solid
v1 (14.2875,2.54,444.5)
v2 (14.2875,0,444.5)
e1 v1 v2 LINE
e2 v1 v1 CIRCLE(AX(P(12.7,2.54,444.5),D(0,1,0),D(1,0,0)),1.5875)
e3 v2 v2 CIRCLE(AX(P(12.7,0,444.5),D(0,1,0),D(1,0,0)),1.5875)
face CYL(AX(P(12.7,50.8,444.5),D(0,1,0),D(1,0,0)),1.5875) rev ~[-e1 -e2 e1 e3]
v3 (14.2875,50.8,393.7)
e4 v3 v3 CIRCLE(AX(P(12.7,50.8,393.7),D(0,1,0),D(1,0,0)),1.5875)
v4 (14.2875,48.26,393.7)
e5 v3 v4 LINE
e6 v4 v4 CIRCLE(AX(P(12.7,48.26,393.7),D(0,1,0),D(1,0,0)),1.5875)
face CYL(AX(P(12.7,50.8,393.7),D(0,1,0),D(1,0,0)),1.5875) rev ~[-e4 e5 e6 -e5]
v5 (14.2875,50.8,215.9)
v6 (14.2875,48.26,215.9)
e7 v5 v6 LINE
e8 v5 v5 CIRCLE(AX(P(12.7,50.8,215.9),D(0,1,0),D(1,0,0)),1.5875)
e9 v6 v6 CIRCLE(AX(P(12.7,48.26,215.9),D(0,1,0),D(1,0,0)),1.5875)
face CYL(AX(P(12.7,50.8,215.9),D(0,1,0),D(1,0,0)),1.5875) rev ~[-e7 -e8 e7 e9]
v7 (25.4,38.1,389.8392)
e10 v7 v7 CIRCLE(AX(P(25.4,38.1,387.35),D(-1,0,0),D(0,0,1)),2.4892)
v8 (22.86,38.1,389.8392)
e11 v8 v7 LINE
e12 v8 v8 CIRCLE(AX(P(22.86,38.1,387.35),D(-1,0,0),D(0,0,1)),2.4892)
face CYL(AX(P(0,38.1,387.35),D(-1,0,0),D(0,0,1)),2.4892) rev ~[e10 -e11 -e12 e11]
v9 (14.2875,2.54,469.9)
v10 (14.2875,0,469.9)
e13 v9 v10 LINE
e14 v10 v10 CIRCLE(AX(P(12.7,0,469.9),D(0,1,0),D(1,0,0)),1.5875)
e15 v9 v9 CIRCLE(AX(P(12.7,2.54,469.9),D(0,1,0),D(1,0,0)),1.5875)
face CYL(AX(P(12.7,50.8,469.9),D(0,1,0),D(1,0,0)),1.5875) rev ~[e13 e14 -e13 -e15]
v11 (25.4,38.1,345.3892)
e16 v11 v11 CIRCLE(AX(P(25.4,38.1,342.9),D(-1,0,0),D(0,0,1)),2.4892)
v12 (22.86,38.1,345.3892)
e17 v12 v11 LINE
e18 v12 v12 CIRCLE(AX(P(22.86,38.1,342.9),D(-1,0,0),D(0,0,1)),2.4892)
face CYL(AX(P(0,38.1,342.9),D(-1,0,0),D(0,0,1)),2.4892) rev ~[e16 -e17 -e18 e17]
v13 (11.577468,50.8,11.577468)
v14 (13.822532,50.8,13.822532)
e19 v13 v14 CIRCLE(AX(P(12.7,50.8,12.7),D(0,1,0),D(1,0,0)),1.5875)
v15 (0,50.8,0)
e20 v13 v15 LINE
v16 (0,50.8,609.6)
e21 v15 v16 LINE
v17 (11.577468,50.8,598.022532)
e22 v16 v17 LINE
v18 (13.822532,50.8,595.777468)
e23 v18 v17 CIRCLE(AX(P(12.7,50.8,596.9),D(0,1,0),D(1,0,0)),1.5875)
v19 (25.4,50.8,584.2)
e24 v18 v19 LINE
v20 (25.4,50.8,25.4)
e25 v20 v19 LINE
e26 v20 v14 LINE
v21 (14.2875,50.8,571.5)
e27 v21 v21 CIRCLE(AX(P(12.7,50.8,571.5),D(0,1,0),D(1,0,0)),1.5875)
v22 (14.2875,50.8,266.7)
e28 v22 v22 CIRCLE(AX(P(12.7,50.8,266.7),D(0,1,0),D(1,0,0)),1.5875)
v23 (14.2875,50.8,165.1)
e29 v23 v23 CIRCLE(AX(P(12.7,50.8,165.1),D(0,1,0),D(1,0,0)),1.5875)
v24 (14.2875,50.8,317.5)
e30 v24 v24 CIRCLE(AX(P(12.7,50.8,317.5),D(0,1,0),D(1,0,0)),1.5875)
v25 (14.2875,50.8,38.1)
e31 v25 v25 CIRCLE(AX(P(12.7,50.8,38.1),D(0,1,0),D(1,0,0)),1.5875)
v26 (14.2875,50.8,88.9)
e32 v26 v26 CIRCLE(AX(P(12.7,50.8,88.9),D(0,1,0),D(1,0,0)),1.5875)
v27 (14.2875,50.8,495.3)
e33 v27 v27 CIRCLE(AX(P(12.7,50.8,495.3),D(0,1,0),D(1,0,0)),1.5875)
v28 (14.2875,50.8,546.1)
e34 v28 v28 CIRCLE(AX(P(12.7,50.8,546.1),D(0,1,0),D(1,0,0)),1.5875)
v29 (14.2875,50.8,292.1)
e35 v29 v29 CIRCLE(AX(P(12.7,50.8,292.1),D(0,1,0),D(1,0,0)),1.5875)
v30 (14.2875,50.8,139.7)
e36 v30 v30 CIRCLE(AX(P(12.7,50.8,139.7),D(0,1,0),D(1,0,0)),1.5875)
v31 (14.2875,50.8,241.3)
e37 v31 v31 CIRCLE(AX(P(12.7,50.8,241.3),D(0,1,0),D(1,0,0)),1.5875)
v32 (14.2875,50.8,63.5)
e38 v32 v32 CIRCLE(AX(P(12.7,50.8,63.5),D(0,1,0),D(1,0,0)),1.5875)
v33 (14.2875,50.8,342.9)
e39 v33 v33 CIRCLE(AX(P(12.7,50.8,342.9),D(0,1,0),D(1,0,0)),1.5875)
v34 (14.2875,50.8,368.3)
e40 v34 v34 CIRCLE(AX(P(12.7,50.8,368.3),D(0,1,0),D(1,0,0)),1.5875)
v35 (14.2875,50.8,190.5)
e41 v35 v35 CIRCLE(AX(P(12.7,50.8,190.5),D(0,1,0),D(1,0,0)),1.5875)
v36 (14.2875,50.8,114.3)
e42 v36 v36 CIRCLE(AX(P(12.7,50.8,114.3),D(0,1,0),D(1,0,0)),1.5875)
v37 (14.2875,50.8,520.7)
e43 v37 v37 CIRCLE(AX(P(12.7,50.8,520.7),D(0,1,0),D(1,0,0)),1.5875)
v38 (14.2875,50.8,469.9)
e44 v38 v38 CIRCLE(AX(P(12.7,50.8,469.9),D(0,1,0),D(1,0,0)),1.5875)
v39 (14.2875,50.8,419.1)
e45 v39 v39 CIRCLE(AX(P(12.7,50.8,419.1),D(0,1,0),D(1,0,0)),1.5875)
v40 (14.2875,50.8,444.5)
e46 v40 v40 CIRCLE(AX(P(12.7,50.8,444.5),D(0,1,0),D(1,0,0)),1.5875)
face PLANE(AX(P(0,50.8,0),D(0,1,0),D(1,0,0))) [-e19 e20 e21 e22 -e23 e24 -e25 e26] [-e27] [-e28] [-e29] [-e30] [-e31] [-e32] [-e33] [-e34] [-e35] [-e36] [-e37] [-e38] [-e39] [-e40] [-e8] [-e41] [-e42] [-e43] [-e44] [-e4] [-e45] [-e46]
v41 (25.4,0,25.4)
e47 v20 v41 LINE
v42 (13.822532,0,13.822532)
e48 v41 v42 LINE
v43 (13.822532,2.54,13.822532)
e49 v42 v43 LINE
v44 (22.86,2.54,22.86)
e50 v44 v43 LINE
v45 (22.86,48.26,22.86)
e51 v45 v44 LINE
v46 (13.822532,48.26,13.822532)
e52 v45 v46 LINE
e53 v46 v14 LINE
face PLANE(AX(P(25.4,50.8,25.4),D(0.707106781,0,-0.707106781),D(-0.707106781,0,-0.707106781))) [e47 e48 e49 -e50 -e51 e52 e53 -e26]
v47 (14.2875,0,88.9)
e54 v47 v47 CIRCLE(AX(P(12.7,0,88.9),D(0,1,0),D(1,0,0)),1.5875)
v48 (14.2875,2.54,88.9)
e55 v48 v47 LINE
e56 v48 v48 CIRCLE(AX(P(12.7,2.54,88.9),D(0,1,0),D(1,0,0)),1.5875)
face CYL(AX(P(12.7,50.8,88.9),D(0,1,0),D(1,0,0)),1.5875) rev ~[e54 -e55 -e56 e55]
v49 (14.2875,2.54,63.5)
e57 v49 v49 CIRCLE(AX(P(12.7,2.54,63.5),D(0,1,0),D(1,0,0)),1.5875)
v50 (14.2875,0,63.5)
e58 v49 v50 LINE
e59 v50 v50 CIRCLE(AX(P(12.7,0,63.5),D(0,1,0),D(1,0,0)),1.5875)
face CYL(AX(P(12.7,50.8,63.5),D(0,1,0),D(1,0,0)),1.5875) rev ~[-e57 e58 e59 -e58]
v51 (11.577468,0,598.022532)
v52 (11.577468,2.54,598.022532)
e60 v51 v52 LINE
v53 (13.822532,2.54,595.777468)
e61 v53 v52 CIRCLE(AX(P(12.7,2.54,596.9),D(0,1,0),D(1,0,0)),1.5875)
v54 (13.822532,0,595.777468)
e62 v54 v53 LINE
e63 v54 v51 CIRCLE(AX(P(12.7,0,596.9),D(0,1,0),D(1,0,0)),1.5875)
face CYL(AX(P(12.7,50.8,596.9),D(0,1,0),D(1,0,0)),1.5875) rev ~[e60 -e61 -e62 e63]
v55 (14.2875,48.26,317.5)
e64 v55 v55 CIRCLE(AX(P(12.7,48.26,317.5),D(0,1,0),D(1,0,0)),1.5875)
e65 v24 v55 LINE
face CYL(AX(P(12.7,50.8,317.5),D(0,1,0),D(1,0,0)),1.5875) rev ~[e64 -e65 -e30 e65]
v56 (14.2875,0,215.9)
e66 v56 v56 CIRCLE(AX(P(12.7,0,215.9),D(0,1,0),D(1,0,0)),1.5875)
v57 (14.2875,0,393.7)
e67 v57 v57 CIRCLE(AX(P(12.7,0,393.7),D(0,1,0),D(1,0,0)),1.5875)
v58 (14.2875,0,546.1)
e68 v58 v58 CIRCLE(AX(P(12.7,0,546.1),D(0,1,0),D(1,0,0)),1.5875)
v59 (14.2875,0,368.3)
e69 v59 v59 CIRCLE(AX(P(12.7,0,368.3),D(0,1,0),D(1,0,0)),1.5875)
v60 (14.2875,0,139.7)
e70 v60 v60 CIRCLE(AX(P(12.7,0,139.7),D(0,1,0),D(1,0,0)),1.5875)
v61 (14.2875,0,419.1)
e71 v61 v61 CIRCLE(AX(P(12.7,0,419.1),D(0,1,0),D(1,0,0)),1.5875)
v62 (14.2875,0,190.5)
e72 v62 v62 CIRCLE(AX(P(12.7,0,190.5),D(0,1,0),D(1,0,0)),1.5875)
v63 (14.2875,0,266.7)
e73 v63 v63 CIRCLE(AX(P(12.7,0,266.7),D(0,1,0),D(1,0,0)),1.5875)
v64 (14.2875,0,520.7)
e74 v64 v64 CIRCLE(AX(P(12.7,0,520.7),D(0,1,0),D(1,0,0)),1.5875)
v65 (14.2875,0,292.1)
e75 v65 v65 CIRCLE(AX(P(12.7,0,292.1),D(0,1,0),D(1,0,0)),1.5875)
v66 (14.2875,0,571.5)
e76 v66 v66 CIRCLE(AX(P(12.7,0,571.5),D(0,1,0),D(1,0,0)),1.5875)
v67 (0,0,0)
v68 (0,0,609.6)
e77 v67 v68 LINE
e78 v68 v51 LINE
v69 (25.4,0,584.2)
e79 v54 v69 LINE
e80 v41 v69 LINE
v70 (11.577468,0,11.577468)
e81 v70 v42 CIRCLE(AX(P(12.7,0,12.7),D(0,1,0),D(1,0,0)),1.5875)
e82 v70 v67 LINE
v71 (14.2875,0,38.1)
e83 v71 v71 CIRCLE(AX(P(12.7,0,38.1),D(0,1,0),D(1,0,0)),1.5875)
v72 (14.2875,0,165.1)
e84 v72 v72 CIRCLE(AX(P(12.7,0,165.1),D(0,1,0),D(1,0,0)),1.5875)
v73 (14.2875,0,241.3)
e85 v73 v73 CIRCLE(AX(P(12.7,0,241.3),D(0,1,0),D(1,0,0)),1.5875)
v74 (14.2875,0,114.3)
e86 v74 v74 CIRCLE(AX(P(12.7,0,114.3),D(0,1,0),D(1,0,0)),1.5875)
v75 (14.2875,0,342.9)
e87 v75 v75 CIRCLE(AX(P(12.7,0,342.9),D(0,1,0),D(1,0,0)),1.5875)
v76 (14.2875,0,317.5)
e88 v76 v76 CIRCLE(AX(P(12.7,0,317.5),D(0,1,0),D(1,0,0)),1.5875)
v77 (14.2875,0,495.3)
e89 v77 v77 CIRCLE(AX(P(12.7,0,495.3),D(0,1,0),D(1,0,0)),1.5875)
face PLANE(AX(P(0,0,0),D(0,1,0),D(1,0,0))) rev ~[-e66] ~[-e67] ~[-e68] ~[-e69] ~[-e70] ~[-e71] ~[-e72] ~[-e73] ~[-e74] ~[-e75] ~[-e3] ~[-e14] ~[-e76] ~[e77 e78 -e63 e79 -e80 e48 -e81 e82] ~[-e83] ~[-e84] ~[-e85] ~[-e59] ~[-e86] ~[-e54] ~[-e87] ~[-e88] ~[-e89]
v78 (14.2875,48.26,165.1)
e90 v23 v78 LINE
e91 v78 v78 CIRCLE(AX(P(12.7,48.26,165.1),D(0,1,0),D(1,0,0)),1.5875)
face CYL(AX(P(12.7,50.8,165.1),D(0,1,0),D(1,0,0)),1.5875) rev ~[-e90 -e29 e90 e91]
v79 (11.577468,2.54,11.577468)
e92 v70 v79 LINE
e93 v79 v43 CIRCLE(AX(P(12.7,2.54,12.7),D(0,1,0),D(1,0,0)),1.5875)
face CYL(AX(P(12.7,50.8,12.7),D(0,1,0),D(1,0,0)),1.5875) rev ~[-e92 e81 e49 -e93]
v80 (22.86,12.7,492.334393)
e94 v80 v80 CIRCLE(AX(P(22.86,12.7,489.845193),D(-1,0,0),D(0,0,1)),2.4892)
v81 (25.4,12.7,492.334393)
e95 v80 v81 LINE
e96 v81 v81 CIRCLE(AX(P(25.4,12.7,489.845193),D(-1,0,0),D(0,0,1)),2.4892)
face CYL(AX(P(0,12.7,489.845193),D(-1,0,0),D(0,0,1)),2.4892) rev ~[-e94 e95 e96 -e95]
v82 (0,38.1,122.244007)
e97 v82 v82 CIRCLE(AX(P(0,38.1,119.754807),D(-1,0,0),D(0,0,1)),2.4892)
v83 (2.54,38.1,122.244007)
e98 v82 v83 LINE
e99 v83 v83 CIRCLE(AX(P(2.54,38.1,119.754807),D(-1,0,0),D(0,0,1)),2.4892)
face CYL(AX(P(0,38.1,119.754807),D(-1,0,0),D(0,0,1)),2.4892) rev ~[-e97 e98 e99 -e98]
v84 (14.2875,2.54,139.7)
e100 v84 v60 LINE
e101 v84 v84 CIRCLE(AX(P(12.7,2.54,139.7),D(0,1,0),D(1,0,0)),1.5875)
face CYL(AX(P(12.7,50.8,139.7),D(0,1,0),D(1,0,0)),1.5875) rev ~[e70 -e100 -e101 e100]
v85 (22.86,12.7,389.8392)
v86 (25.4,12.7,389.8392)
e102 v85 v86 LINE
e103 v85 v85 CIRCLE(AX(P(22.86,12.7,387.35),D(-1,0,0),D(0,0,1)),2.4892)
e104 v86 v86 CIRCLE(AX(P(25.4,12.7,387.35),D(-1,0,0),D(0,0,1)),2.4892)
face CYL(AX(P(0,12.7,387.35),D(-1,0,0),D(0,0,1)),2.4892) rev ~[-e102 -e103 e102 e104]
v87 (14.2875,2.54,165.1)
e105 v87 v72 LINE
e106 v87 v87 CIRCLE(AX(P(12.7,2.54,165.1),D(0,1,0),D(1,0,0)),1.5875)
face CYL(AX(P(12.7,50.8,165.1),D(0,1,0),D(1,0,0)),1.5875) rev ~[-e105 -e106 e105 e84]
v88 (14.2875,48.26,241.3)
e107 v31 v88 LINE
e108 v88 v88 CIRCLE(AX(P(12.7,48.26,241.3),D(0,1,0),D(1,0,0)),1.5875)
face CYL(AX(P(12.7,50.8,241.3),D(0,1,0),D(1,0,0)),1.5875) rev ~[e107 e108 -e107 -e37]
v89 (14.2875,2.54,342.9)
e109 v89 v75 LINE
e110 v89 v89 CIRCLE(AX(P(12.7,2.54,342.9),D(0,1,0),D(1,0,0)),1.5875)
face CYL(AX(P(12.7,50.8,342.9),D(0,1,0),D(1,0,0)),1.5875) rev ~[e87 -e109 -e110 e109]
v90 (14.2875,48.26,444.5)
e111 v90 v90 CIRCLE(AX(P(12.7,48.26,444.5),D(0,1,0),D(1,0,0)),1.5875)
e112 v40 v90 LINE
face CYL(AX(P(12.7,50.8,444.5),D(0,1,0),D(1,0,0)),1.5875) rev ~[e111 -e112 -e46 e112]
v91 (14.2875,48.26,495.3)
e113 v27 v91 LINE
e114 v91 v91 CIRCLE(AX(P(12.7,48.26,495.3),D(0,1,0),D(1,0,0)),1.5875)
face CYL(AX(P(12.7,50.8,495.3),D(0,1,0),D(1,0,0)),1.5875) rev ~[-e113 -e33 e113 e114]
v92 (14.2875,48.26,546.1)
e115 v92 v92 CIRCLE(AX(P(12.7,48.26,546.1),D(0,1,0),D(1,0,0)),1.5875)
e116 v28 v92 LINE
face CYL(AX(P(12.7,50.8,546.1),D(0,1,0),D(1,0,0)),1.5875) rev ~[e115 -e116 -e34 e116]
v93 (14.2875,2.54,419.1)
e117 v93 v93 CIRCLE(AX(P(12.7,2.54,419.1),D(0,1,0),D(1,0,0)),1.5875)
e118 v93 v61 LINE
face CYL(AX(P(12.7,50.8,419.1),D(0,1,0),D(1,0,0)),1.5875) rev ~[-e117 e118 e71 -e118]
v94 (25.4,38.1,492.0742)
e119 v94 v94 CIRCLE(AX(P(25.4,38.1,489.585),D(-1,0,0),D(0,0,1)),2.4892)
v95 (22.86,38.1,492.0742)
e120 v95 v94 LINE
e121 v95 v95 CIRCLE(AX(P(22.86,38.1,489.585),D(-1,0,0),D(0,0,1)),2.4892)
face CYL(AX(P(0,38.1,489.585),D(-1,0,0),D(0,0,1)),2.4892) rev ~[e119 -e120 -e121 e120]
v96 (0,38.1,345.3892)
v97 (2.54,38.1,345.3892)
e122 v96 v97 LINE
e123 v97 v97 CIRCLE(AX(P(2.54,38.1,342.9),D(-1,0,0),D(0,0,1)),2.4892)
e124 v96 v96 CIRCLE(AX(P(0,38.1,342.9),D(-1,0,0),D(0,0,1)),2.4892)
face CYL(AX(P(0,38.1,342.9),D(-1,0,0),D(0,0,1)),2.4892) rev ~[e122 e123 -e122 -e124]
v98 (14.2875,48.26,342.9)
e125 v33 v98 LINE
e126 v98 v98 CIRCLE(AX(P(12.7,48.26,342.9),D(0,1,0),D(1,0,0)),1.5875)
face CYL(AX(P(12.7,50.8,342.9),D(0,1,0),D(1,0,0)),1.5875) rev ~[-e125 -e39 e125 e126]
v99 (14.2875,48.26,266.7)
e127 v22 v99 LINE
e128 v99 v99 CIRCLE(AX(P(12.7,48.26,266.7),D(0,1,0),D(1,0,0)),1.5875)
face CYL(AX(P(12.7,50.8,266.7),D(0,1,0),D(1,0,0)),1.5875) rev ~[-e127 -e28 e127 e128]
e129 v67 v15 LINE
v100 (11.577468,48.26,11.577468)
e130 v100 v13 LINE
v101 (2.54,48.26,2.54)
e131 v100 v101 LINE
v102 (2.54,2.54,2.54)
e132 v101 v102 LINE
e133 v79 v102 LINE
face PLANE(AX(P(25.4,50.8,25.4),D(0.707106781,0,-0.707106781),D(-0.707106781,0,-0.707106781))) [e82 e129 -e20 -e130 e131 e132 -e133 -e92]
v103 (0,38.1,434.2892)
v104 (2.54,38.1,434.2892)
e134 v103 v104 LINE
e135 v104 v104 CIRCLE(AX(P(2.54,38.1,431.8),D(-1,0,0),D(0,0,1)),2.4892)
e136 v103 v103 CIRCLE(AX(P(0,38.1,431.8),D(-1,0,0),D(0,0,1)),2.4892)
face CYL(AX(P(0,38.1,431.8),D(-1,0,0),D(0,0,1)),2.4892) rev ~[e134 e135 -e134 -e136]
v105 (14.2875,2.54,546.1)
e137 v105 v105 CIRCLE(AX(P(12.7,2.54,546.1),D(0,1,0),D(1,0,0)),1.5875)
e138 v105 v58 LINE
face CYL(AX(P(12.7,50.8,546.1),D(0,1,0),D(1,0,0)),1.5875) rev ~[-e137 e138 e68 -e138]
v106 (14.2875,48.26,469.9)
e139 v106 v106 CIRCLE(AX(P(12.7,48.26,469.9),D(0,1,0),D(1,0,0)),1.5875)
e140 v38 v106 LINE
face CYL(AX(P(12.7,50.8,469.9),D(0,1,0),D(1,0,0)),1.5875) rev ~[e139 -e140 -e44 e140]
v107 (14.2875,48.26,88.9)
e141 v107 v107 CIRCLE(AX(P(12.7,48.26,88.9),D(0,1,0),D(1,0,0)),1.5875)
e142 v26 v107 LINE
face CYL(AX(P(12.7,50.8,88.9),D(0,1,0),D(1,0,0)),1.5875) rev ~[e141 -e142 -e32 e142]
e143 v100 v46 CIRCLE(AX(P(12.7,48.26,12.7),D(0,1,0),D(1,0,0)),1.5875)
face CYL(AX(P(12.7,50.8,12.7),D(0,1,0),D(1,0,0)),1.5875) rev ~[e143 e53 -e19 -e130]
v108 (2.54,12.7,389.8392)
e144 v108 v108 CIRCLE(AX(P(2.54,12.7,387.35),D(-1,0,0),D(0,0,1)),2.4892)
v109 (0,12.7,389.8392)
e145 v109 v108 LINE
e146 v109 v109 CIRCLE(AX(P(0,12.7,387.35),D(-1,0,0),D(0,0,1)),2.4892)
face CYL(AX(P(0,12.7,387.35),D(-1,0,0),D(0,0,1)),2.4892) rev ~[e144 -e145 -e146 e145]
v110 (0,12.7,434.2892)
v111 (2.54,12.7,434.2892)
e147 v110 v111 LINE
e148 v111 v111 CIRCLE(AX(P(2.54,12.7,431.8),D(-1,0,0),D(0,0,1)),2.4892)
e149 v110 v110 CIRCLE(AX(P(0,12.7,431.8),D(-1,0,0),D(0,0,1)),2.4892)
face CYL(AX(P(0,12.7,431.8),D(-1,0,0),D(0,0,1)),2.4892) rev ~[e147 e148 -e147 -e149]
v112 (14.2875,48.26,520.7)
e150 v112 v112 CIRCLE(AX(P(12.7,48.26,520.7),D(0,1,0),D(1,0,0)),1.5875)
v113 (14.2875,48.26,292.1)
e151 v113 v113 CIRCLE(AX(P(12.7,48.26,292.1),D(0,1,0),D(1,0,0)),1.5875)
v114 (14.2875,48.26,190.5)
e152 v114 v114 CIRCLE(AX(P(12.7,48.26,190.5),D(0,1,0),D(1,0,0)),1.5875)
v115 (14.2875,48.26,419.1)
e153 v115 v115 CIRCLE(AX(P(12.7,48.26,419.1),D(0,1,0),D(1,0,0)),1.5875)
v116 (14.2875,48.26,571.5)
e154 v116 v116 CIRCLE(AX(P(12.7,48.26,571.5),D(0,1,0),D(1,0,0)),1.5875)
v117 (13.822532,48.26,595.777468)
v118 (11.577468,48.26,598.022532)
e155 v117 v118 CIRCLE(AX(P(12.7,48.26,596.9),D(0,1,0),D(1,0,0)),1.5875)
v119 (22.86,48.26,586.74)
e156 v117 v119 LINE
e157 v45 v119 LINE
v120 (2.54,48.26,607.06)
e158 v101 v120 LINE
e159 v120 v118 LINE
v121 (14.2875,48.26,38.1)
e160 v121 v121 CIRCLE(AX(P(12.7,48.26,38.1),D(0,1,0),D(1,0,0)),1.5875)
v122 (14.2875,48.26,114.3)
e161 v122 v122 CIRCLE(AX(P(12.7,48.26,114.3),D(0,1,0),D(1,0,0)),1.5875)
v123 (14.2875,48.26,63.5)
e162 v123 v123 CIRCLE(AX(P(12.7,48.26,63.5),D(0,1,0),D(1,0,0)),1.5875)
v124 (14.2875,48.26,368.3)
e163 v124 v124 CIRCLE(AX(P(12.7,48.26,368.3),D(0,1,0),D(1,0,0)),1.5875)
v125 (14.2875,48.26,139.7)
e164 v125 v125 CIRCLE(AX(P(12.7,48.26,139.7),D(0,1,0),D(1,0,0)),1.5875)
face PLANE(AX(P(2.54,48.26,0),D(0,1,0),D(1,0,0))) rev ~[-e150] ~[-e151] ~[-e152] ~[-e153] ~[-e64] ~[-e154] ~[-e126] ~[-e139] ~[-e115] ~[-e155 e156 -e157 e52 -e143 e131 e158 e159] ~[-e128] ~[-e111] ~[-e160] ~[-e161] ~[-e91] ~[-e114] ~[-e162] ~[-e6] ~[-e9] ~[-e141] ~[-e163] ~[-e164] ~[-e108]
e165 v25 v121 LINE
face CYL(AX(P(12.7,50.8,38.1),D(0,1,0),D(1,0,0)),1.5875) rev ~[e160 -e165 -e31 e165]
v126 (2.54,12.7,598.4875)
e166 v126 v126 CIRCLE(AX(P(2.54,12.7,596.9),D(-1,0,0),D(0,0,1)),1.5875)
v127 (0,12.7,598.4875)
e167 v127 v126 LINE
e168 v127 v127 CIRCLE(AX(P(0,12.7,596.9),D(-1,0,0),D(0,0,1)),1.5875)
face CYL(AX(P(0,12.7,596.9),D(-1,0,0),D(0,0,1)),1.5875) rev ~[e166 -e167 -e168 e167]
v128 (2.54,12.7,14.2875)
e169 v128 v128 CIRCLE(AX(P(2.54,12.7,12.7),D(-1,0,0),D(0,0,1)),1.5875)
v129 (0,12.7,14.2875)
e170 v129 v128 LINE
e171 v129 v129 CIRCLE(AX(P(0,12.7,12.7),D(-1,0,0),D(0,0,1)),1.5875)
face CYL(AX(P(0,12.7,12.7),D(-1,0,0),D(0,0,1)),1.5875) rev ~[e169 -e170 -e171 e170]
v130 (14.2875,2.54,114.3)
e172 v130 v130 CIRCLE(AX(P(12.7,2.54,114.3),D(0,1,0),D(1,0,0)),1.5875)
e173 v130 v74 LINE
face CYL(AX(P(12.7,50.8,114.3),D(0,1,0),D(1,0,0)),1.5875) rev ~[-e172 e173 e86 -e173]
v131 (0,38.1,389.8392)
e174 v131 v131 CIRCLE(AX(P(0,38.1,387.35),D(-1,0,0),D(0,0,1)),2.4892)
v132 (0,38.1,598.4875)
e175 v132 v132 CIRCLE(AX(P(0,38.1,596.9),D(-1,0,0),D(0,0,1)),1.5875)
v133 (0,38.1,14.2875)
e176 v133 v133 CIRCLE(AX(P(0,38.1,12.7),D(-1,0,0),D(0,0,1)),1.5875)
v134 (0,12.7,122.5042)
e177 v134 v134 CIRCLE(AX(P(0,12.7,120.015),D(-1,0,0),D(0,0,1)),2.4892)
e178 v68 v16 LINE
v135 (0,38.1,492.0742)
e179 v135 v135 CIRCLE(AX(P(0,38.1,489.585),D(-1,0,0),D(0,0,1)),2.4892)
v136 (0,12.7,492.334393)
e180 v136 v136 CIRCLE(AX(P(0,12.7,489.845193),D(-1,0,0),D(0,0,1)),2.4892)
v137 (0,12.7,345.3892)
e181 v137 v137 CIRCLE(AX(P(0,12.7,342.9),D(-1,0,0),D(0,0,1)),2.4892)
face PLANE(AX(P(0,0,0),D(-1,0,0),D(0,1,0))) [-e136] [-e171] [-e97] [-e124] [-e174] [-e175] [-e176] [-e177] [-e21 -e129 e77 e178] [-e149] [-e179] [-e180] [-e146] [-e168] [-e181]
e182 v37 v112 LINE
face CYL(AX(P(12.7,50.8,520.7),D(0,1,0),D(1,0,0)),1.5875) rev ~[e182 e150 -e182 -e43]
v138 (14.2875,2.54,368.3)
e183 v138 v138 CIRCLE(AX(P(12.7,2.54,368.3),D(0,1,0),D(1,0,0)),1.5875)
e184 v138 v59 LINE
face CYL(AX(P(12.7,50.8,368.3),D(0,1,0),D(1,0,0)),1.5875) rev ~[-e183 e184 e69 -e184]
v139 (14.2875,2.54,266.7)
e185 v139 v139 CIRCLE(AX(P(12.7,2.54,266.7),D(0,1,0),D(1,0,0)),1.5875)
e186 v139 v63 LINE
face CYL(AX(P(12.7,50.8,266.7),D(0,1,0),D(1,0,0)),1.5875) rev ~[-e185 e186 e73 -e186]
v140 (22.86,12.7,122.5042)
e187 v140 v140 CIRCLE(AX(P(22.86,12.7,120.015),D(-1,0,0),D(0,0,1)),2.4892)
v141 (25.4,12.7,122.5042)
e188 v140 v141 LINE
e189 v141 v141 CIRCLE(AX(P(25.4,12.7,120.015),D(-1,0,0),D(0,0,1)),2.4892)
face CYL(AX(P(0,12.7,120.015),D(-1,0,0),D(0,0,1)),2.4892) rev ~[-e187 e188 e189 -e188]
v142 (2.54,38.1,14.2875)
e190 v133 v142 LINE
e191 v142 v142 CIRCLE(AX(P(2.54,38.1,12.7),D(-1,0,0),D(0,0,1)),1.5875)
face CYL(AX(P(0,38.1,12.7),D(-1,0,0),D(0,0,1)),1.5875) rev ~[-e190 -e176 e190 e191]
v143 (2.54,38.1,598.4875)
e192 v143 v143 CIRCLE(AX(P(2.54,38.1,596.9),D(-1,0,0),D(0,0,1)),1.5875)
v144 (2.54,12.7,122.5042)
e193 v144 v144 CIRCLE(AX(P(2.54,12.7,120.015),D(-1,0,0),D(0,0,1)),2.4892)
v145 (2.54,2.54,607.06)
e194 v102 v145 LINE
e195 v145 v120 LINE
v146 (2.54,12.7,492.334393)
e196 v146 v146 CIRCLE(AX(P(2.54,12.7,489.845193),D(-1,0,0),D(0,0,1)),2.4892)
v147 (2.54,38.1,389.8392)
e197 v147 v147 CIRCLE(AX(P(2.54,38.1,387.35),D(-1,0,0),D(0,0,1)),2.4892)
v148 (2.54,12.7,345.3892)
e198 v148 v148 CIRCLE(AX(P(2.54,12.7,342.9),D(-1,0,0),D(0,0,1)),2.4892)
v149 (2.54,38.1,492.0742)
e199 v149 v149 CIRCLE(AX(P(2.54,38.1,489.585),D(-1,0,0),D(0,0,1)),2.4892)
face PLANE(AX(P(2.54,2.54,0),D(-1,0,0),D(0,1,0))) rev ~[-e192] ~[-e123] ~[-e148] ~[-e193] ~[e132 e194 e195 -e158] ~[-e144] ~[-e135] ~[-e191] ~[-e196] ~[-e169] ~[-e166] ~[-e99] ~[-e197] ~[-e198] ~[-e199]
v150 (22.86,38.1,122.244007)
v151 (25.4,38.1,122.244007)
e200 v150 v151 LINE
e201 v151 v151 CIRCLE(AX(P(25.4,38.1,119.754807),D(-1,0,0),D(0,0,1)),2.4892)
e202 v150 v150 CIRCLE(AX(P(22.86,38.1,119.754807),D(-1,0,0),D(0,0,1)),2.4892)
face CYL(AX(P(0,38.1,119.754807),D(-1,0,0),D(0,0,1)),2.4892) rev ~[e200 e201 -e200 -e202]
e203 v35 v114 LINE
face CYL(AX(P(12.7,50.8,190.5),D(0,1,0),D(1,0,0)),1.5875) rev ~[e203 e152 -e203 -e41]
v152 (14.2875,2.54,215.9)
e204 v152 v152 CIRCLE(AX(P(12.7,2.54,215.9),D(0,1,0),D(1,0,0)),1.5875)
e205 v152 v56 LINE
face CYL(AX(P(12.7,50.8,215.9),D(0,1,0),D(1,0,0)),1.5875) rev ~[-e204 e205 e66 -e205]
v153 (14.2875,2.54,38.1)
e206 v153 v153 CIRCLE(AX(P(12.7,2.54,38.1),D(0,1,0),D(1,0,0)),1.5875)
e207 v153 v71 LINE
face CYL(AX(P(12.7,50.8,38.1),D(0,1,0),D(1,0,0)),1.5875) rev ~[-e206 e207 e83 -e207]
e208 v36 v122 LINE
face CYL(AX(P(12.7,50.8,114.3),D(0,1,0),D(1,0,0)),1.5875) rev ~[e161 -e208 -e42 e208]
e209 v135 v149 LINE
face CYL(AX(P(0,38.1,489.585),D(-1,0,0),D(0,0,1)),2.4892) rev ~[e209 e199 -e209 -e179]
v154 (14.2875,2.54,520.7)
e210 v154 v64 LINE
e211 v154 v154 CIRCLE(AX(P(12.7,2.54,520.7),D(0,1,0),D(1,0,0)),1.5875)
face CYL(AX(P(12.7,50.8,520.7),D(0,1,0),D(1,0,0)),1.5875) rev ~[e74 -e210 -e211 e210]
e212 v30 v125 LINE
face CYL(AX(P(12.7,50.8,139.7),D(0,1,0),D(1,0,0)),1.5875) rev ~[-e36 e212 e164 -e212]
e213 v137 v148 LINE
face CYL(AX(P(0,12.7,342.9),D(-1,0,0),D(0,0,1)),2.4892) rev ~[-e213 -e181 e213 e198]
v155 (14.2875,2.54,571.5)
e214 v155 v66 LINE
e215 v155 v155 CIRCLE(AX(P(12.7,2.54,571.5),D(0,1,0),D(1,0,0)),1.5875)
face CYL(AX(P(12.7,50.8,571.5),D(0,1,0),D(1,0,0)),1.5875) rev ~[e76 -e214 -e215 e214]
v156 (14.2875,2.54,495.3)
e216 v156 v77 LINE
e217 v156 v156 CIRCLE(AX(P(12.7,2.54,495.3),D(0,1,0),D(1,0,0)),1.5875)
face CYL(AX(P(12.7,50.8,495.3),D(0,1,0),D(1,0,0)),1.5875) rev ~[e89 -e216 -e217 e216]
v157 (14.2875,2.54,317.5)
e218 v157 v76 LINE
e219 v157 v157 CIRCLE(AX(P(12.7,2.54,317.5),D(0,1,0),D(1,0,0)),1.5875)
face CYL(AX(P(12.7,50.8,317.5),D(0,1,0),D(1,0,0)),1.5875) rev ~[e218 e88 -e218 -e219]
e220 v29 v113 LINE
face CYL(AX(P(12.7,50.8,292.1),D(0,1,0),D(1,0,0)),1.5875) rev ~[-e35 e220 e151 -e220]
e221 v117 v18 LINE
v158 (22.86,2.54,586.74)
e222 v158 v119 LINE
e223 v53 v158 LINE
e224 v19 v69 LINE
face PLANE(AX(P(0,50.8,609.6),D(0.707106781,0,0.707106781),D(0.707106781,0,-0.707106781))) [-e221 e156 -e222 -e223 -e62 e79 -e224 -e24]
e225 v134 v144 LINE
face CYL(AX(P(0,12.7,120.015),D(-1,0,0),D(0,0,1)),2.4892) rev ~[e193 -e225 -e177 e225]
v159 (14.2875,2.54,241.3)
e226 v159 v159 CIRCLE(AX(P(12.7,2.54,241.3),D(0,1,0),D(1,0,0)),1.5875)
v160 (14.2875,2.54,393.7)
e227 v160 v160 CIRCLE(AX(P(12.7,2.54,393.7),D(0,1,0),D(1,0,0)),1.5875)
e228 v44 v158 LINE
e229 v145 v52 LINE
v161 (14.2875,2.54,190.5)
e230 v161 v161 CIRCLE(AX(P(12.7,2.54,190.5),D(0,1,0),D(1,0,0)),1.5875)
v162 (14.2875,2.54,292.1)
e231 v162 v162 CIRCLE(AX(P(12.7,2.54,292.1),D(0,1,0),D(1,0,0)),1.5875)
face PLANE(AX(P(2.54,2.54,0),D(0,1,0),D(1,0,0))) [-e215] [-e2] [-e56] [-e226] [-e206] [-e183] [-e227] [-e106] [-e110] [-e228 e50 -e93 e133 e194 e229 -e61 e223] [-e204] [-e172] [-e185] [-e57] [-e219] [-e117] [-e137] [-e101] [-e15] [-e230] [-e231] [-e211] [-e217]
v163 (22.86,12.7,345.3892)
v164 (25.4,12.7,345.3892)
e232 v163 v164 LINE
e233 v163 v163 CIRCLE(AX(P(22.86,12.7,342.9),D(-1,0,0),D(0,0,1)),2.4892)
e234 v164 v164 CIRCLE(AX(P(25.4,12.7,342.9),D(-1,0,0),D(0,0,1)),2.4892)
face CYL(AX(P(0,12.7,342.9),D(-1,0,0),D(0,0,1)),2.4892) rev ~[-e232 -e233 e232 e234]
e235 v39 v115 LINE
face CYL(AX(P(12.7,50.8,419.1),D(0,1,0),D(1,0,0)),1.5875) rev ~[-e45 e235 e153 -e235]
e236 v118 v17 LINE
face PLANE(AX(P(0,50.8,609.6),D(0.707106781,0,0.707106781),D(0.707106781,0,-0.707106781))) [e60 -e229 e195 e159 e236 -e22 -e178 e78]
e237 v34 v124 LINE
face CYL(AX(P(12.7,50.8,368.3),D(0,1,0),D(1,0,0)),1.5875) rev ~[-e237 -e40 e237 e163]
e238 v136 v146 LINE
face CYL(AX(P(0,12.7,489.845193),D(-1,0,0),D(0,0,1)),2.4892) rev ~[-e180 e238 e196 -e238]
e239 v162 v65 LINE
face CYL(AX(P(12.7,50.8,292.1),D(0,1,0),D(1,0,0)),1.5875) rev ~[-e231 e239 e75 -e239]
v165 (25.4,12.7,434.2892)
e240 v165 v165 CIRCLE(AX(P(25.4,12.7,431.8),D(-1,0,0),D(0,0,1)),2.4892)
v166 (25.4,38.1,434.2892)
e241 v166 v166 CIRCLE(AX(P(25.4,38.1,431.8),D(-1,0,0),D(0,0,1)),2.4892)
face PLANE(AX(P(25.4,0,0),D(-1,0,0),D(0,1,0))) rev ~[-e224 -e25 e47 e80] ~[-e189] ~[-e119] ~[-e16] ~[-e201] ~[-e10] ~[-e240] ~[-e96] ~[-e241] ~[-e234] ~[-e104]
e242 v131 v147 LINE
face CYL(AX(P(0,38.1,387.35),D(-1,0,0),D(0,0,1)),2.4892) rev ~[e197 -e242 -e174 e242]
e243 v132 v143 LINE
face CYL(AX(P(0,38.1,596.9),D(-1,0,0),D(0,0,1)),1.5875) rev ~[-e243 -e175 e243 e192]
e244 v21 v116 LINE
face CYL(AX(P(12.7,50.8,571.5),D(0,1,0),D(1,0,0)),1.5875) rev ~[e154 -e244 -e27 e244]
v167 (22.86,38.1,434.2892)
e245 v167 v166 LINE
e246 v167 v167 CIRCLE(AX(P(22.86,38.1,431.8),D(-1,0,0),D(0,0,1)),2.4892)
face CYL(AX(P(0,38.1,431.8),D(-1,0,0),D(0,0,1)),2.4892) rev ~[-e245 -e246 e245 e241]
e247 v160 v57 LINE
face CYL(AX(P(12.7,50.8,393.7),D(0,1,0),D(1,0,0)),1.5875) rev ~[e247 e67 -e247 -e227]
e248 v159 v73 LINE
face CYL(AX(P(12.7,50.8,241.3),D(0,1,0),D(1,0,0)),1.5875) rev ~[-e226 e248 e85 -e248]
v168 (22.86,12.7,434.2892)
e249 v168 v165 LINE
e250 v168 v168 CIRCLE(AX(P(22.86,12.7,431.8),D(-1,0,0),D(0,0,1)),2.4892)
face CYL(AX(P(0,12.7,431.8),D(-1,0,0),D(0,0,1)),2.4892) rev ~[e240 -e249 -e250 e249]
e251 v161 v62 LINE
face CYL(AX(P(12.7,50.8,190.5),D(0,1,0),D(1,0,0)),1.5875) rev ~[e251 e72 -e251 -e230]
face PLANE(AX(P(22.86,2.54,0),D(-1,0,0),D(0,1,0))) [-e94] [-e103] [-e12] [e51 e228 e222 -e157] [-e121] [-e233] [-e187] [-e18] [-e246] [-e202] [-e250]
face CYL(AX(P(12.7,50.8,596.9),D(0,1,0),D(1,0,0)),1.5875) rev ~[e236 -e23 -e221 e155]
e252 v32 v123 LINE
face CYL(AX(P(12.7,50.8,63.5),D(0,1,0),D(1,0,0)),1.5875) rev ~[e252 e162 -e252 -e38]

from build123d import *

# Parameters (mm, degrees)
SKETCH1_W           = 25.4
SKETCH1_H           = 50.8
SKETCH1_W_2         = 20.32
SKETCH1_H_2         = 45.72
EXTRUDE_THIN1_DEPTH = 609.6
SKETCH2_R           = 1.5875
CUT_EXTRUDE1_DEPTH  = 51.8
LPATTERN1_COUNT     = 50
LPATTERN1_PITCH     = 25.4
CUT_EXTRUDE2_DEPTH  = 51.8
SKETCH5_R           = 1.5875
CUT_EXTRUDE3_DEPTH  = 26.4
SKETCH7_R           = 2.4892
CUT_EXTRUDE4_DEPTH  = 26.4


with BuildPart() as part:
    # Sketch1 → Extrude-Thin1 (new body)
    with BuildSketch(Plane.XY):
        with Locations((12.7, 25.4)):
            Rectangle(SKETCH1_W, SKETCH1_H)
        with Locations((12.7, 25.4)):
            Rectangle(SKETCH1_W_2, SKETCH1_H_2, mode=Mode.SUBTRACT)
    extrude(amount=EXTRUDE_THIN1_DEPTH)

    # Sketch2 → Cut-Extrude1 (cut, through all)
    with BuildSketch(Plane(origin=(0, 50.8, 0), x_dir=(1, 0, 0), z_dir=(0, 1, 0))):
        with Locations((12.7, -596.9)):
            Circle(SKETCH2_R)
    cut_extrude1 = extrude(amount=-CUT_EXTRUDE1_DEPTH, mode=Mode.SUBTRACT)

    # LPattern1: Cut-Extrude1 ×50
    with Locations(*[(0, 0, -i * LPATTERN1_PITCH) for i in range(1, LPATTERN1_COUNT)]):
        add(cut_extrude1, mode=Mode.SUBTRACT)

    # Sketch4 → Cut-Extrude2 (cut, through all)
    with BuildSketch(Plane(origin=(0, 50.8, 0), x_dir=(1, 0, 0), z_dir=(0, 1, 0))):
        Polygon((0, -609.6), (25.4, -584.2), (25.4, -609.6), align=None)
        Polygon((0, 0), (25.4, 0), (25.4, -25.4), align=None)
    extrude(amount=-CUT_EXTRUDE2_DEPTH, mode=Mode.SUBTRACT)

    # Sketch5 → Cut-Extrude3 (cut, through all)
    with BuildSketch(Plane.ZY):
        with Locations((12.7, 12.7)):
            Circle(SKETCH5_R)
        with Locations((12.7, 38.1)):
            Circle(SKETCH5_R)
        with Locations((596.9, 38.1)):
            Circle(SKETCH5_R)
        with Locations((596.9, 12.7)):
            Circle(SKETCH5_R)
    extrude(amount=-CUT_EXTRUDE3_DEPTH, mode=Mode.SUBTRACT)

    # Sketch7 → Cut-Extrude4 (cut, through all)
    with BuildSketch(Plane.ZY):
        with Locations((489.585, 38.1)):
            Circle(SKETCH7_R)
        with Locations((489.845193373, 12.7)):
            Circle(SKETCH7_R)
        with Locations((120.015, 12.7)):
            Circle(SKETCH7_R)
        with Locations((119.754806627, 38.1)):
            Circle(SKETCH7_R)
        with Locations((342.9, 38.1)):
            Circle(SKETCH7_R)
        with Locations((342.9, 12.7)):
            Circle(SKETCH7_R)
        with Locations((387.35, 12.7)):
            Circle(SKETCH7_R)
        with Locations((387.35, 38.1)):
            Circle(SKETCH7_R)
        with Locations((431.8, 38.1)):
            Circle(SKETCH7_R)
        with Locations((431.8, 12.7)):
            Circle(SKETCH7_R)
    extrude(amount=-CUT_EXTRUDE4_DEPTH, mode=Mode.SUBTRACT)


solid = part.part
